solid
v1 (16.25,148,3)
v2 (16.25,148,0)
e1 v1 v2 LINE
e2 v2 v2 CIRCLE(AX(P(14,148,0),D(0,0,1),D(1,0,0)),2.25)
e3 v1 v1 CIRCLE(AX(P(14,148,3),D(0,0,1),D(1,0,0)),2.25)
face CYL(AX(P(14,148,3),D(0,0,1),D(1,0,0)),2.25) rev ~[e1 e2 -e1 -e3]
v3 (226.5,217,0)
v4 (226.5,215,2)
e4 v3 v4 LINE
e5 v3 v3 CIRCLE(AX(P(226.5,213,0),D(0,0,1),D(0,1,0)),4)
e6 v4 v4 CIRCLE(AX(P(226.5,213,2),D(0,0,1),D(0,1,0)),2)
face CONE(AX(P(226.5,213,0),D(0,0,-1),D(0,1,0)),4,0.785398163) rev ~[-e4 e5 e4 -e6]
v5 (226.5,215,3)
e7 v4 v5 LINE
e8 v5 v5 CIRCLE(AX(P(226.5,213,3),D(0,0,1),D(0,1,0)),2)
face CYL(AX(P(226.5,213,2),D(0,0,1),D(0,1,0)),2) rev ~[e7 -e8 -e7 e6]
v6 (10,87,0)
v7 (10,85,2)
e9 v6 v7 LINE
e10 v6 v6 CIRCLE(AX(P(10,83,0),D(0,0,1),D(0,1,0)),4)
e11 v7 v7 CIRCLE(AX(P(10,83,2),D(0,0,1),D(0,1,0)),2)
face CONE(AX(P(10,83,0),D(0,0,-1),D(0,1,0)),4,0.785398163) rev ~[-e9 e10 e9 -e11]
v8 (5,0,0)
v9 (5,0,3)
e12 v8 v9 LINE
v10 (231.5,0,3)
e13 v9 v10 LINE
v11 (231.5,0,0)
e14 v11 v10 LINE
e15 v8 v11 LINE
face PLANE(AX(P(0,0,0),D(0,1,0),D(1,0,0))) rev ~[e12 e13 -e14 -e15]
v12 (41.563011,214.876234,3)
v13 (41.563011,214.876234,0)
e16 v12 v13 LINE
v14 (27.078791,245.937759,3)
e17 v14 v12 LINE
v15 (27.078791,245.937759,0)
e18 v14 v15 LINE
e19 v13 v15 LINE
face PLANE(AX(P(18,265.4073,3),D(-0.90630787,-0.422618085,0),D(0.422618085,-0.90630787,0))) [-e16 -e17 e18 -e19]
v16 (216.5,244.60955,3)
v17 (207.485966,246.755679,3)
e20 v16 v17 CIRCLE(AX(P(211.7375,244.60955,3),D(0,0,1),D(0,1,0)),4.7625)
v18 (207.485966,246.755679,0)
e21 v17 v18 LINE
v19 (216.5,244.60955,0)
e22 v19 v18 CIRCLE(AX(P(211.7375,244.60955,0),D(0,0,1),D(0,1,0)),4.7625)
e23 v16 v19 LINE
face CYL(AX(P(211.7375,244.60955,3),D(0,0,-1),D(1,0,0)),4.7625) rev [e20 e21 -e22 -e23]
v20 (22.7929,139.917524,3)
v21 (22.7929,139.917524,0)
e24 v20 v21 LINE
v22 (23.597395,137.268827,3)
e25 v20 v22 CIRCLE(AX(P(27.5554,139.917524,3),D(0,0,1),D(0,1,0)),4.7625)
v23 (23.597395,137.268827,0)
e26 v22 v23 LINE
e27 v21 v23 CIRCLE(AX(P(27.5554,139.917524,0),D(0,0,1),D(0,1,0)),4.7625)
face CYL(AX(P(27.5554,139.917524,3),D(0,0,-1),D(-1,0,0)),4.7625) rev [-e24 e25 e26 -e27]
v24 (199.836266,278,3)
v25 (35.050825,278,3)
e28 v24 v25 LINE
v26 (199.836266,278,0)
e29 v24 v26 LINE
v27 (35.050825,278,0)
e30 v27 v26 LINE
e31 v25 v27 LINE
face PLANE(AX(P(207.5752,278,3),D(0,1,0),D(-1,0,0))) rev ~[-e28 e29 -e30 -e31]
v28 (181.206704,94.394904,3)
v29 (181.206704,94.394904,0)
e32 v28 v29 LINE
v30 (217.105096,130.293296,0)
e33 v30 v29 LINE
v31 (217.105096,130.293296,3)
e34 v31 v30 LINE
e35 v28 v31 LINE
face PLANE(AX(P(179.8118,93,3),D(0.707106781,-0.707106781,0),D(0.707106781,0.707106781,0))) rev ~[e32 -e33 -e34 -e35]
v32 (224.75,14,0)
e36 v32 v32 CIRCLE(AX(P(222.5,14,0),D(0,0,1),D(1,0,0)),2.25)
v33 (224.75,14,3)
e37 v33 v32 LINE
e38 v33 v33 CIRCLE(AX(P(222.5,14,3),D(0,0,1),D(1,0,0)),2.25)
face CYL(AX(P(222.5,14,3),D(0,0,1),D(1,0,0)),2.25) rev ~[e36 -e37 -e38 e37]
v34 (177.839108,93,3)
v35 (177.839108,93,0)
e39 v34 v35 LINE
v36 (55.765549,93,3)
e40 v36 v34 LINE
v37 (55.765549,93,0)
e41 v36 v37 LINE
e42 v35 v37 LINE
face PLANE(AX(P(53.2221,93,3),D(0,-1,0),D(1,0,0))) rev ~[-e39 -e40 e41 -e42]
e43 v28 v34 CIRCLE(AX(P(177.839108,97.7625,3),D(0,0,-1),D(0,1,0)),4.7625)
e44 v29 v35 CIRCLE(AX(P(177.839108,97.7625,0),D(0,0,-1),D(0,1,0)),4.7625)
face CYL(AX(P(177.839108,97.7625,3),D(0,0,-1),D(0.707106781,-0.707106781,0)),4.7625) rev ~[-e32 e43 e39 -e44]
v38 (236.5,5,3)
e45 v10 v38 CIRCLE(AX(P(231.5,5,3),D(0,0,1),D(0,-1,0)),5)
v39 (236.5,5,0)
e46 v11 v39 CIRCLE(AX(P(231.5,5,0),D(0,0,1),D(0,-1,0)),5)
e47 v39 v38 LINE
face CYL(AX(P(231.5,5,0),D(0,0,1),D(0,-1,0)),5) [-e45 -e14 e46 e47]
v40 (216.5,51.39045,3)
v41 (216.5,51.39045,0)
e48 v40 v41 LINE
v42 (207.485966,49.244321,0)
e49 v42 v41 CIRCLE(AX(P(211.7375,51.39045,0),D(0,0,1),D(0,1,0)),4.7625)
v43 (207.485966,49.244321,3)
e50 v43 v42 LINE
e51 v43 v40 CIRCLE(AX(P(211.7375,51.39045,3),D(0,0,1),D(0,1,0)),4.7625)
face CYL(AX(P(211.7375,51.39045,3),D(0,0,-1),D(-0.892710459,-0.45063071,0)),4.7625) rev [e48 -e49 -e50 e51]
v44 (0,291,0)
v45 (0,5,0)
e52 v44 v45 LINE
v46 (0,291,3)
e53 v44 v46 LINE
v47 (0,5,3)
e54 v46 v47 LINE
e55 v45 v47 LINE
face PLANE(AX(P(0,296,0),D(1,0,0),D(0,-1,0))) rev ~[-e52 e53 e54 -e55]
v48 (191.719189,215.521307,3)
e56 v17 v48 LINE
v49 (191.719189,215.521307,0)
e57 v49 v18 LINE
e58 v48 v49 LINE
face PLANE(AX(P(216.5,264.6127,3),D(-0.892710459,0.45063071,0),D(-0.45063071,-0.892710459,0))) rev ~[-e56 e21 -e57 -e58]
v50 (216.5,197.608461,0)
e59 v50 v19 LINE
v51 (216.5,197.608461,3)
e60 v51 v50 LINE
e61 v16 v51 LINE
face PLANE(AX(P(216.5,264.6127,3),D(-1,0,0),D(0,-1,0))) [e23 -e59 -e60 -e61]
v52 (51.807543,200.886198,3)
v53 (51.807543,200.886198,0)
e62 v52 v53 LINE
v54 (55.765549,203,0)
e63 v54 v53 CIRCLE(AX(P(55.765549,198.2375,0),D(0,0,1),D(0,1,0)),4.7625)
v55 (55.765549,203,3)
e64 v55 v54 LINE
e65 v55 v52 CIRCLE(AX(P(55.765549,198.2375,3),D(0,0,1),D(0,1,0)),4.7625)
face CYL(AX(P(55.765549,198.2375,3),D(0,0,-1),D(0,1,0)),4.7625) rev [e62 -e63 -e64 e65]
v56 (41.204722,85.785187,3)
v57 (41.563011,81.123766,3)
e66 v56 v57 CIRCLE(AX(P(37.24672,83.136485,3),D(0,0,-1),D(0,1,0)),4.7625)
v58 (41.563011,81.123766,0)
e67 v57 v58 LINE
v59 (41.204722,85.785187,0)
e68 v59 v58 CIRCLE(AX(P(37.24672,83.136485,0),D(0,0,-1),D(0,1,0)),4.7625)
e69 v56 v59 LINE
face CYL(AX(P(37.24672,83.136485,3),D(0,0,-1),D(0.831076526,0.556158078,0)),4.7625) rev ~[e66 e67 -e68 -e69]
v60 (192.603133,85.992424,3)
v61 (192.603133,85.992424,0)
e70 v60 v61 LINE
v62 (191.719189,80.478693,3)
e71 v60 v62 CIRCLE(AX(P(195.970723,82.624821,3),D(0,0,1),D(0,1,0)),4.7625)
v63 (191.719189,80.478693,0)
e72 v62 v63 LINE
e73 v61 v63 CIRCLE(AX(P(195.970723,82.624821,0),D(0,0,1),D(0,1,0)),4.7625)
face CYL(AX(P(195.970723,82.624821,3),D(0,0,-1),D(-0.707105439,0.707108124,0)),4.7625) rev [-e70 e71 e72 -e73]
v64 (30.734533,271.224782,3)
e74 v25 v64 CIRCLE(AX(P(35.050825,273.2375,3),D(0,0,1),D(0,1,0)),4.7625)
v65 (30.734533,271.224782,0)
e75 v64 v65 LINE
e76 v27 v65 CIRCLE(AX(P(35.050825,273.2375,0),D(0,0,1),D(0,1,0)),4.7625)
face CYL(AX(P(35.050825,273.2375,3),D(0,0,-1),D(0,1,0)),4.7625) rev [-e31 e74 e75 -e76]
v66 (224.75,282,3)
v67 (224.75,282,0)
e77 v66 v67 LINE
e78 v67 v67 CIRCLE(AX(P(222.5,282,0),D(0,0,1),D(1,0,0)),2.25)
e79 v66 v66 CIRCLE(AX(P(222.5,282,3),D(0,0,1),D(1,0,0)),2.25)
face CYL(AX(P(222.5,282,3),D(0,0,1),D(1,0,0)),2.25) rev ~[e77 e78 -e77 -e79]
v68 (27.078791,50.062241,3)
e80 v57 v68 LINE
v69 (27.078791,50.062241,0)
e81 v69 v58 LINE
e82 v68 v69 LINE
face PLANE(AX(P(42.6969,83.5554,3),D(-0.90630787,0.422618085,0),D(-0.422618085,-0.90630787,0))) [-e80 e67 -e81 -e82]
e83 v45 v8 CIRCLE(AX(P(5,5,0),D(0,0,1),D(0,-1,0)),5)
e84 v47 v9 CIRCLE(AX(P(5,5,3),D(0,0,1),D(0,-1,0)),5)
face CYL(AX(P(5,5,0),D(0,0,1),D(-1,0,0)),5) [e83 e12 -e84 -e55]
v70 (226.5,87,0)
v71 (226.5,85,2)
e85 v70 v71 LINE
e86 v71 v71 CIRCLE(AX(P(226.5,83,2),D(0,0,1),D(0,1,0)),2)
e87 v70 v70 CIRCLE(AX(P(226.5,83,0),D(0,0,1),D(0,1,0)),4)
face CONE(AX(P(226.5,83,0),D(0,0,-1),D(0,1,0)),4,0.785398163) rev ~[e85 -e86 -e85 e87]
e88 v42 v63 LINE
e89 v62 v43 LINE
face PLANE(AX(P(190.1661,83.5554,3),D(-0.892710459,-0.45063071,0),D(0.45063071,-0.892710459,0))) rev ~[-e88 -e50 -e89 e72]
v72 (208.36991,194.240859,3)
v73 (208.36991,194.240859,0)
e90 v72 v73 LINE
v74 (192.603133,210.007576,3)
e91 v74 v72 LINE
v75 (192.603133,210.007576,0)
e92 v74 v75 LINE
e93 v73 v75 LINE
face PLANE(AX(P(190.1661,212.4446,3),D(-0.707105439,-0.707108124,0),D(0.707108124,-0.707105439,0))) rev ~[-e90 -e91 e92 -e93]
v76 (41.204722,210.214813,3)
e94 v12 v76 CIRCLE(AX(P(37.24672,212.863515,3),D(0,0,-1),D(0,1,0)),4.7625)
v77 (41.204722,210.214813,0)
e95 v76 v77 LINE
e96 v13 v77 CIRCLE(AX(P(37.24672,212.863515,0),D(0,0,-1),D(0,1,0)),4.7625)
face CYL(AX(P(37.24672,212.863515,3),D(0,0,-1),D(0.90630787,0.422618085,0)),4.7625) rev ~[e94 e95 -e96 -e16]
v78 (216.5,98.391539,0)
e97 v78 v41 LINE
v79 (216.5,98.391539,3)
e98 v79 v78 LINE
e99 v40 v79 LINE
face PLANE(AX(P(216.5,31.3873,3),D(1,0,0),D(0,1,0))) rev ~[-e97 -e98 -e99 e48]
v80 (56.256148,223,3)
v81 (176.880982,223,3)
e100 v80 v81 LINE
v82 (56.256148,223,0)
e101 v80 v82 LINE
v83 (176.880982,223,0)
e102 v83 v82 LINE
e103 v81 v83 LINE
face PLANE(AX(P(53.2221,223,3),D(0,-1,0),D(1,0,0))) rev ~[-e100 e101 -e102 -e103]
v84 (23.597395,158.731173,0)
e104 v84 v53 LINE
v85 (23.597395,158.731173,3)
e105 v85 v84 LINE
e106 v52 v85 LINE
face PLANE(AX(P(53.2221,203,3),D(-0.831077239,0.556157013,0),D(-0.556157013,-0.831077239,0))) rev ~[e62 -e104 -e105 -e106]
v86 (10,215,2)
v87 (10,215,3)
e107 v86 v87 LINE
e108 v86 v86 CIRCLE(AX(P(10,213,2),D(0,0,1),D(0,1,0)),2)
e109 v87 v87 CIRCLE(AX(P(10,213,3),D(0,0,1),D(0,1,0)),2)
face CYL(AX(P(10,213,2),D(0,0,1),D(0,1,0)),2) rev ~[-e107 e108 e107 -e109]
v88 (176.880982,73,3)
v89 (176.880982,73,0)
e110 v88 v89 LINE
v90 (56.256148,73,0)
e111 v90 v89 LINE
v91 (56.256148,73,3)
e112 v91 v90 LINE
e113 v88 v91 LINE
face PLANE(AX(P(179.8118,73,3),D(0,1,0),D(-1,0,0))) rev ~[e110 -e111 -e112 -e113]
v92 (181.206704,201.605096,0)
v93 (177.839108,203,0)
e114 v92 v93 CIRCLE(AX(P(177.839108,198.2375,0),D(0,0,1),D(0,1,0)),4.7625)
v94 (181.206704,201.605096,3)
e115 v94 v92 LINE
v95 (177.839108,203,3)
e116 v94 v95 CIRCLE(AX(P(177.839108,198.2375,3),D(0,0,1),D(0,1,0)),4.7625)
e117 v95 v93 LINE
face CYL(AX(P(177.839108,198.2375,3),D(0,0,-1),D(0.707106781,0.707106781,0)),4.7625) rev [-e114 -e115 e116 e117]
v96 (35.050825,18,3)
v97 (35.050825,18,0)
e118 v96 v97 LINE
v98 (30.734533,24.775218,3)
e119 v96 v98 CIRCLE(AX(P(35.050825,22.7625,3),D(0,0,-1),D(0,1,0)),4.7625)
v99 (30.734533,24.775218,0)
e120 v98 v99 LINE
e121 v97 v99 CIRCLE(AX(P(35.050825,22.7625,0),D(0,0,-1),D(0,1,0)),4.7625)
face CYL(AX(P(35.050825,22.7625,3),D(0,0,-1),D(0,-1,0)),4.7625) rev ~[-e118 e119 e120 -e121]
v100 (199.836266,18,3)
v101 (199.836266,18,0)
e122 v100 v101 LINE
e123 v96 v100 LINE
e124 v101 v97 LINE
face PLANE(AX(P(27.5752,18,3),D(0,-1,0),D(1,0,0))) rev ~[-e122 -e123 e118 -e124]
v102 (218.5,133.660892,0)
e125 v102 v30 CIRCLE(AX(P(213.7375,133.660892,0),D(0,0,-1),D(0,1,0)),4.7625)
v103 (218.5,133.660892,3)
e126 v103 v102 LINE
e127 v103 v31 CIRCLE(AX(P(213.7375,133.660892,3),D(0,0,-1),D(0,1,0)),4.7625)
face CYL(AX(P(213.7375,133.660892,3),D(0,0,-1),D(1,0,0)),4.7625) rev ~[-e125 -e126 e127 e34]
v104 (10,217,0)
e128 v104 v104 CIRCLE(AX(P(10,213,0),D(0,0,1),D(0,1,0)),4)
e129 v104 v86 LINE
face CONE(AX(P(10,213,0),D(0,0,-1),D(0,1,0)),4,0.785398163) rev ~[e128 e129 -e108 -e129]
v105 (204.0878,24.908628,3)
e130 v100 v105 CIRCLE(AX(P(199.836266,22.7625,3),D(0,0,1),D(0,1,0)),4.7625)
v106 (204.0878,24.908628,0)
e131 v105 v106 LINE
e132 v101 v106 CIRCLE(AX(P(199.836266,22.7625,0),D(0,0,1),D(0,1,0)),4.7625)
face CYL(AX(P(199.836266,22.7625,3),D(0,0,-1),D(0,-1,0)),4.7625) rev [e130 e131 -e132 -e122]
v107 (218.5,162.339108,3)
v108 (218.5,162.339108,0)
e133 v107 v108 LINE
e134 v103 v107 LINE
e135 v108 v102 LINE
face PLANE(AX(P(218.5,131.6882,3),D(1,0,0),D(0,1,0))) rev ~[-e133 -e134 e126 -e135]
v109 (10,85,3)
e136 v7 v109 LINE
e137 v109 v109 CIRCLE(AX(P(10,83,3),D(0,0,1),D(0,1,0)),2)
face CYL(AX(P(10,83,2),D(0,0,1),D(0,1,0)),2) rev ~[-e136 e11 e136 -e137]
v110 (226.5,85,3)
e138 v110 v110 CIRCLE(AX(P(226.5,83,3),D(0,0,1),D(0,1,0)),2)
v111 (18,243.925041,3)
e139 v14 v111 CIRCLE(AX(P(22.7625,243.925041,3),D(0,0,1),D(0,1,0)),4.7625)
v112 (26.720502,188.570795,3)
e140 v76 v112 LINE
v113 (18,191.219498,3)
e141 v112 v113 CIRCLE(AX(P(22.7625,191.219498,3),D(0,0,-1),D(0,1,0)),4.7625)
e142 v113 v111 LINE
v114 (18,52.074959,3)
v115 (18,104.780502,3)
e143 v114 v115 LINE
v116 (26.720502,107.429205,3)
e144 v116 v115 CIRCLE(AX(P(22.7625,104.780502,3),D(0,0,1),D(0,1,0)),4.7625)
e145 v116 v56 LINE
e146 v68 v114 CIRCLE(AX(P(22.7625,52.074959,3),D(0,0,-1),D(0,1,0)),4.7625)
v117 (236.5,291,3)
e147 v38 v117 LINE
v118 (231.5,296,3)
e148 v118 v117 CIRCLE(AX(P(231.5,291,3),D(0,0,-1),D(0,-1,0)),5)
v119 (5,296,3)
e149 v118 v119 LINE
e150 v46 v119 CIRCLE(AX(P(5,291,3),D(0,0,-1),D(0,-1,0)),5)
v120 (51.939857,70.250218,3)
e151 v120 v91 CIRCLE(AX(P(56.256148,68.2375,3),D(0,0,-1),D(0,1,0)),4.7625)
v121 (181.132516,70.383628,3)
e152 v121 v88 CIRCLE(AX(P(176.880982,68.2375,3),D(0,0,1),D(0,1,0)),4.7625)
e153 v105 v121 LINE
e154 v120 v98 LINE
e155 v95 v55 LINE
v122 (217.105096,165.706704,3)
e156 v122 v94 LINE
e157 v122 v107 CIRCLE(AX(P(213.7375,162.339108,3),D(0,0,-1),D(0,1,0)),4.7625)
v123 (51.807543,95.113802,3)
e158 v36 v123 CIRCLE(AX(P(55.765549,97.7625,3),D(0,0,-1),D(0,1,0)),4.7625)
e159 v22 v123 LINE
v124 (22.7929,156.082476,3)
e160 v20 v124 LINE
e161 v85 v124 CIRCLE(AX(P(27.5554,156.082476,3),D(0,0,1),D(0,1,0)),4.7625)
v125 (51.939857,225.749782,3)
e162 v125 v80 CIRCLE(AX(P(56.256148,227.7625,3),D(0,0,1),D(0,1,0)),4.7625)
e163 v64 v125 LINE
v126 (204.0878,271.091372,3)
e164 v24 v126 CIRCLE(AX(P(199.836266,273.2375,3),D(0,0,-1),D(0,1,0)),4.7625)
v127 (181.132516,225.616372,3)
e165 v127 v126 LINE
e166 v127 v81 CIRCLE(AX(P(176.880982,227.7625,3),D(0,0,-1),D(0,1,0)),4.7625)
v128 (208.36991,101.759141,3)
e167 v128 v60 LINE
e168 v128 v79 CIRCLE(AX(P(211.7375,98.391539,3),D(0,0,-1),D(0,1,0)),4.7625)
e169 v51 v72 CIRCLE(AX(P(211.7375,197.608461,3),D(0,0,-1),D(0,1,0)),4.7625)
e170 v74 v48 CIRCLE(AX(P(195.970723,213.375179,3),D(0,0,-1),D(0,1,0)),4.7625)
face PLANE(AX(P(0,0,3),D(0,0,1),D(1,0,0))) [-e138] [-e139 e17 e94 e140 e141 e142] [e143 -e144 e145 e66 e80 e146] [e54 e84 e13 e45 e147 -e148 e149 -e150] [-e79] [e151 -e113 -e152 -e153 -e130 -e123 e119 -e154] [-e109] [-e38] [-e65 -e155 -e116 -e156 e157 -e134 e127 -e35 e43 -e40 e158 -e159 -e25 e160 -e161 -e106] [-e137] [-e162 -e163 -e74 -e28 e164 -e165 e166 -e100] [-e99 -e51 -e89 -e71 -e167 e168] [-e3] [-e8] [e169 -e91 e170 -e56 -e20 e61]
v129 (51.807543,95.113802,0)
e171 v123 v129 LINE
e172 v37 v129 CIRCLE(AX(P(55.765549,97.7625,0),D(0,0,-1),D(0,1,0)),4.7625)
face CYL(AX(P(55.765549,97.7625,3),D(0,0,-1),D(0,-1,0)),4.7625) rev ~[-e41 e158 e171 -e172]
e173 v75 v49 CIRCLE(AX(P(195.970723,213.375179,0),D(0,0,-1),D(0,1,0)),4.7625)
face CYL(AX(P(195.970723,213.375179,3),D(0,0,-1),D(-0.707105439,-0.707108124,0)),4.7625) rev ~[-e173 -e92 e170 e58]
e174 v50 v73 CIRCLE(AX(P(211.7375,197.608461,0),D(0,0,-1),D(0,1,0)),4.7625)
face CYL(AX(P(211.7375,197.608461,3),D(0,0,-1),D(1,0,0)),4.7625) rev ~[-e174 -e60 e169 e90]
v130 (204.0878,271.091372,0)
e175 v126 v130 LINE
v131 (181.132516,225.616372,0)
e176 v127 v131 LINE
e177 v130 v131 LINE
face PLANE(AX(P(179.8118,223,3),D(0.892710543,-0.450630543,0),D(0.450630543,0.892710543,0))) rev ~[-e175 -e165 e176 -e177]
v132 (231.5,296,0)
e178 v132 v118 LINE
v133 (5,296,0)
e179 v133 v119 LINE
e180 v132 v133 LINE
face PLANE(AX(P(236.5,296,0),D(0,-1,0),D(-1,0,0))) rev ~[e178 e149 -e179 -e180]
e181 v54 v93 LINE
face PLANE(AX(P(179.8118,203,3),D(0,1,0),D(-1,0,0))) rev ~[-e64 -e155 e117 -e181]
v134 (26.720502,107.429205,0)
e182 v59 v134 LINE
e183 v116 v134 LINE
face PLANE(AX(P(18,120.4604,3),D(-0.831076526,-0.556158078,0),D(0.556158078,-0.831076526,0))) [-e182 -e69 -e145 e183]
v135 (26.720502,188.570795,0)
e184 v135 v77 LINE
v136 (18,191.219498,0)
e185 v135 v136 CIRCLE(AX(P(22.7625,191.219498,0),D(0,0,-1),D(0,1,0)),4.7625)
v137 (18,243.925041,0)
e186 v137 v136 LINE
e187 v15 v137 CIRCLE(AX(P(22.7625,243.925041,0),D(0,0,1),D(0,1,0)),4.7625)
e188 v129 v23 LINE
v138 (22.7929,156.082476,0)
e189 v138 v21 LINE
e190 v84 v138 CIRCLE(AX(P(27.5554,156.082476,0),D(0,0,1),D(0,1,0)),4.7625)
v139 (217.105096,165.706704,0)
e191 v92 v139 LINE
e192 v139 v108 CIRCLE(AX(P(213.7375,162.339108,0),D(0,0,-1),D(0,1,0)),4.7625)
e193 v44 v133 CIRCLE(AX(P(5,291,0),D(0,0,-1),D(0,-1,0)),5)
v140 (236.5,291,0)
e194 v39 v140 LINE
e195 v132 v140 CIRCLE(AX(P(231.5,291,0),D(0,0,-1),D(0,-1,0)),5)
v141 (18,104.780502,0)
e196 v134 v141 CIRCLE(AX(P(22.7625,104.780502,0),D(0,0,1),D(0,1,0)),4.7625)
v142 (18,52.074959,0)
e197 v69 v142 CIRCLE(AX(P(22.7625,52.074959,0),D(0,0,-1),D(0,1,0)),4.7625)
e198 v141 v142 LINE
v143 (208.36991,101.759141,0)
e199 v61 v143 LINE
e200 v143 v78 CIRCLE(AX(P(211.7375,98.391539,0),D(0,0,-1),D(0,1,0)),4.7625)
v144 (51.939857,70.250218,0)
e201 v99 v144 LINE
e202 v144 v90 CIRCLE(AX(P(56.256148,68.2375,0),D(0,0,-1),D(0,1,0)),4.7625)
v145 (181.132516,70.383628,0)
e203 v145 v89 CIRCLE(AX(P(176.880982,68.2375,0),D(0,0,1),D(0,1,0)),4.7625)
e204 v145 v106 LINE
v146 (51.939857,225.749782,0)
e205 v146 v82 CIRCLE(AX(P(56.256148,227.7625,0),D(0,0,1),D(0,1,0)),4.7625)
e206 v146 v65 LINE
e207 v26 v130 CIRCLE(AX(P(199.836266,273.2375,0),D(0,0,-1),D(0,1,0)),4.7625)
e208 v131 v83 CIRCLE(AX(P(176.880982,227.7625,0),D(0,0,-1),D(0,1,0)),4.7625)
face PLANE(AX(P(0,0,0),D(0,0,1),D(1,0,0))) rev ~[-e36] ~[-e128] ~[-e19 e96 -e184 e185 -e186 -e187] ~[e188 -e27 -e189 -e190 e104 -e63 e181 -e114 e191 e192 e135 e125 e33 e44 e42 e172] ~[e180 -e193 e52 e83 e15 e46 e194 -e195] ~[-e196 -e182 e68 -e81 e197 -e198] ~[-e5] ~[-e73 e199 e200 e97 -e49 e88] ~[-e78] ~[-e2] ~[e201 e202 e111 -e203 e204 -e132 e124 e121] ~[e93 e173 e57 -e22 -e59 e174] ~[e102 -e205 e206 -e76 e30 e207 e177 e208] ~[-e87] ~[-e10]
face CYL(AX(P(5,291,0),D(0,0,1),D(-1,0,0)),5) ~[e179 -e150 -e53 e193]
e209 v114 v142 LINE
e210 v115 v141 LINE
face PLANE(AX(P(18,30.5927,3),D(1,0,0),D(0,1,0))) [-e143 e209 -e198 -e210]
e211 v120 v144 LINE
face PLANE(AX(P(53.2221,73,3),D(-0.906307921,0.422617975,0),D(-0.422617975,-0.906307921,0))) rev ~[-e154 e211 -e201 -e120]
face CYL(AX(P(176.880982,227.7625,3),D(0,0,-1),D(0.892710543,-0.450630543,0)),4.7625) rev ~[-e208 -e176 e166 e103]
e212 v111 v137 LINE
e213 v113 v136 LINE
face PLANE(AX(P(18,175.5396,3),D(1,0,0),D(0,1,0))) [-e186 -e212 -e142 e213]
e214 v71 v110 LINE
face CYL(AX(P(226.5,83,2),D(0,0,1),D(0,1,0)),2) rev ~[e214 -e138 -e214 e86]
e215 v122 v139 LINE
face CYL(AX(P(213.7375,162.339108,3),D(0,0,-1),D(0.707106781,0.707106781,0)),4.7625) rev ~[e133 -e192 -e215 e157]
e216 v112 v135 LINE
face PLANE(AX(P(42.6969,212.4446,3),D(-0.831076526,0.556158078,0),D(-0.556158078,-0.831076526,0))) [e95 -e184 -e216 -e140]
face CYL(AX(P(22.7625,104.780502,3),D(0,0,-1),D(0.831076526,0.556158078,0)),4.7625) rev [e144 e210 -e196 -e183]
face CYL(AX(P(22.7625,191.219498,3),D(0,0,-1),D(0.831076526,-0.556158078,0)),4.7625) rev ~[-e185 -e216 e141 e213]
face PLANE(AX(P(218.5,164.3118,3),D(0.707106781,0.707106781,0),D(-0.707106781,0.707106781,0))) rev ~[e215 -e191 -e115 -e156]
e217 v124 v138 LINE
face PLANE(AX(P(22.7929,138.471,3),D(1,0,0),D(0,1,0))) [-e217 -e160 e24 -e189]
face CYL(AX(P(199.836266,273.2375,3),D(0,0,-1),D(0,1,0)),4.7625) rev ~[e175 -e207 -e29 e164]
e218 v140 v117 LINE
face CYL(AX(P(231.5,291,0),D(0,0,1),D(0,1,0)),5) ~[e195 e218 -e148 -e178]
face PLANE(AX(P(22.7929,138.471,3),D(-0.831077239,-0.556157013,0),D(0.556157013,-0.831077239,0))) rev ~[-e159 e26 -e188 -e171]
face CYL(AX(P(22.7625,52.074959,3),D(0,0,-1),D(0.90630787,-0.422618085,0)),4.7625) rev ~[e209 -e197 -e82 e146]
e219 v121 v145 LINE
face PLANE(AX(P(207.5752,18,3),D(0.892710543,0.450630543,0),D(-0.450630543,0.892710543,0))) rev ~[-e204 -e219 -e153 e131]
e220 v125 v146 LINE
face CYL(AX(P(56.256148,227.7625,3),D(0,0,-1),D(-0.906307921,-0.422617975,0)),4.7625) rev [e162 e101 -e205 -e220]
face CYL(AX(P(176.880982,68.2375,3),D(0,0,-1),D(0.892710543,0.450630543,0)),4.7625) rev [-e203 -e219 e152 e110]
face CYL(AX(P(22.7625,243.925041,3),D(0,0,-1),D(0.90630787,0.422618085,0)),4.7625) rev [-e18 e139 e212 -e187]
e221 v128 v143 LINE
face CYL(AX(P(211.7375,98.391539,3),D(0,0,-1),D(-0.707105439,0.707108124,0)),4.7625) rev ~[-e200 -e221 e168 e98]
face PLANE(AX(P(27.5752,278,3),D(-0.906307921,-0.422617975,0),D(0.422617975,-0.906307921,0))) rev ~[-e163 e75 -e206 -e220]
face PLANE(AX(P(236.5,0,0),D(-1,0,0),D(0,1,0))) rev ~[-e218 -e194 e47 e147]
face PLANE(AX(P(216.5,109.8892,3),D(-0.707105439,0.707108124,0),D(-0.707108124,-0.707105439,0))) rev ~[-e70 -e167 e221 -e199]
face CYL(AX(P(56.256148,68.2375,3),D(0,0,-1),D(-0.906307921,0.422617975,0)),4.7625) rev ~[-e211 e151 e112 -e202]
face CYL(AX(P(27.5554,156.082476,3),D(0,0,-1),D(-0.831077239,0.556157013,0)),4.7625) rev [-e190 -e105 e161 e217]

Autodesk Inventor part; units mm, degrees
ref_plane "YZ Plane" through (0, 0, 0) normal (1, 0, 0) x (0, 1, 0)
ref_plane "XZ Plane" through (0, 0, 0) normal (0, 1, 0) x (-1, 0, 0)
ref_plane "XY Plane" through (0, 0, 0) normal (0, 0, 1) x (1, 0, 0)
sketch "Sketch1" plane through (0, 0, 0) normal (0, 0, 1) x (1, 0, 0)
  line L0 (0, 0) -> (236.5, 0)
  line L1 (236.5, 0) -> (236.5, 296)
  line L2 (236.5, 296) -> (0, 296)
  line L3 (0, 296) -> (0, 0)
  dimension "d0" = 236.5
  dimension "d1" = 296
extrude "Extrusion1" add sketch "Sketch1" along normal blind 3
sketch "Sketch2" plane through (0, 0, 3) normal (0, 0, 1) x (1, 0, 0)
  line L0 (0, 0) -> (236.5, 0) projected
  line L1 (236.5, 0) -> (236.5, 296) projected
  line L2 (236.5, 296) -> (0, 296) projected
  line L3 (0, 296) -> (0, 0) projected
  line L4 (207.5752, 278) -> (27.5752, 278)
  line L5 (27.5752, 278) -> (53.2221, 223)
  line L6 (53.2221, 223) -> (179.8118, 223)
  line L7 (179.8118, 223) -> (207.5752, 278)
  line L8 (216.5, 264.6127) -> (190.1661, 212.4446)
  line L9 (190.1661, 212.4446) -> (216.5, 186.1108)
  line L10 (218.5, 164.3118) -> (179.8118, 203)
  line L11 (216.5, 264.6127) -> (216.5, 186.1108)
  line L12 (179.8118, 203) -> (53.2221, 203)
  line L13 (53.2221, 203) -> (22.7929, 157.529)
  line L14 (18, 265.4073) -> (42.6969, 212.4446)
  line L15 (42.6969, 212.4446) -> (18, 175.5396)
  line L16 (18, 175.5396) -> (18, 265.4073)
  line L17 (22.7929, 138.471) -> (53.2221, 93)
  line L18 (53.2221, 93) -> (179.8118, 93)
  line L19 (179.8118, 93) -> (218.5, 131.6882)
  line L20 (218.5, 131.6882) -> (218.5, 164.3118)
  line L21 (216.5, 109.8892) -> (190.1661, 83.5554)
  line L22 (190.1661, 83.5554) -> (216.5, 31.3873)
  line L23 (216.5, 31.3873) -> (216.5, 109.8892)
  line L24 (18, 120.4604) -> (42.6969, 83.5554)
  line L25 (42.6969, 83.5554) -> (18, 30.5927)
  line L26 (18, 30.5927) -> (18, 120.4604)
  line L27 (27.5752, 18) -> (207.5752, 18)
  line L28 (207.5752, 18) -> (179.8118, 73)
  line L29 (179.8118, 73) -> (53.2221, 73)
  line L30 (53.2221, 73) -> (27.5752, 18)
  line L31 (22.7929, 138.471) -> (22.7929, 157.529)
  dimension "d19" = 65
  dimension "d29" = 110
  dimension "d31" = 20
  dimension "d32" = 18
  dimension "d33" = 18
  dimension "d34" = 20
  dimension "d35" = 18
  dimension "d40" = 14
  dimension "d41" = 14
  dimension "d52" = 180
  dimension "d55" = 135
  dimension "d59" = 20
  dimension "d60" = 14
  dimension "d61" = 14
  dimension "d62" = 14
  dimension "d63" = 14
  dimension "d64" = 18
extrude "Extrusion2" cut sketch "Sketch2" against normal up to next contours L7 L6 L5 L4 | L11 L9 L8 | L20 L19 L18 L17 L31 L13 L12 L10 | L14 L15 L16 | L23 L22 L21 | L24 L25 L26 | L30 L29 L28 L27
sketch "Sketch3" plane through (0, 0, 3) normal (0, 0, 1) x (1, 0, 0)
  line L0 (0, 0) -> (236.5, 0) projected
  line L1 (236.5, 0) -> (236.5, 296) projected
  line L2 (236.5, 296) -> (0, 296) projected
  line L3 (0, 296) -> (0, 0) projected
  circle A0 centre (222.5, 282) radius 2.25
  circle A1 centre (14, 148) radius 2.25
  circle A2 centre (222.5, 14) radius 2.25
  dimension "d44" = 4.5
  dimension "d45" = 14
  dimension "d46" = 14
  dimension "d47" = 14
  dimension "d56" = 148
  dimension "d57" = 14
extrude "Extrusion3" cut sketch "Sketch3" against normal up to next contours A0 | A1 | A2
fillet "Fillet1" radius 4.7625 28 edges at (27.5752, 18, 1.5) (207.5752, 18, 1.5) (179.8118, 73, 1.5) (53.2221, 73, 1.5) (18, 30.5927, 1.5) (42.6969, 83.5554, 1.5) (18, 120.4604, 1.5) (42.6969, 212.4446, 1.5) (18, 175.5396, 1.5) (18, 265.4073, 1.5) (27.5752, 278, 1.5) (53.2221, 223, 1.5) (179.8118, 223, 1.5) (207.5752, 278, 1.5) (190.1661, 83.5554, 1.5) (216.5, 31.3873, 1.5) (216.5, 109.8892, 1.5) (216.5, 186.1108, 1.5) (190.1661, 212.4446, 1.5) (216.5, 264.6127, 1.5) (218.5, 131.6882, 1.5) (218.5, 164.3118, 1.5) (179.8118, 93, 1.5) (179.8118, 203, 1.5) (53.2221, 203, 1.5) (22.7929, 157.529, 1.5) (22.7929, 138.471, 1.5) (53.2221, 93, 1.5)
fillet "Fillet2" radius 5 4 edges at (236.5, 0, 1.5) (0, 0, 1.5) (0, 296, 1.5) (236.5, 296, 1.5)
sketch "Sketch4" plane through (0, 0, 0) normal (0, 0, -1) x (-1, 0, 0)
  line L0 (-177.8391, 203) -> (-55.7656, 203) projected
  line L1 (-55.7656, 93) -> (-177.8391, 93) projected
  line L2 (-236.5, 5) -> (-236.5, 291) projected
  line L3 (0, 291) -> (0, 5) projected
  point P0 (0, 0)
  point P1 (-10, 213)
  point P2 (-226.5, 213)
  point P3 (-10, 83)
  point P4 (-226.5, 83)
  dimension "d65" = 10
  dimension "d66" = 10
  dimension "d67" = 10
  dimension "d68" = 10
hole "Hole1" at (10, 213, 0) at (226.5, 213, 0) at (10, 83, 0) at (226.5, 83, 0) direction (0, 0, 1) diameter 4 end through all countersink diameter 8 countersink angle 90
properties part number "ZBedPlate" material "Steel, Alloy"
